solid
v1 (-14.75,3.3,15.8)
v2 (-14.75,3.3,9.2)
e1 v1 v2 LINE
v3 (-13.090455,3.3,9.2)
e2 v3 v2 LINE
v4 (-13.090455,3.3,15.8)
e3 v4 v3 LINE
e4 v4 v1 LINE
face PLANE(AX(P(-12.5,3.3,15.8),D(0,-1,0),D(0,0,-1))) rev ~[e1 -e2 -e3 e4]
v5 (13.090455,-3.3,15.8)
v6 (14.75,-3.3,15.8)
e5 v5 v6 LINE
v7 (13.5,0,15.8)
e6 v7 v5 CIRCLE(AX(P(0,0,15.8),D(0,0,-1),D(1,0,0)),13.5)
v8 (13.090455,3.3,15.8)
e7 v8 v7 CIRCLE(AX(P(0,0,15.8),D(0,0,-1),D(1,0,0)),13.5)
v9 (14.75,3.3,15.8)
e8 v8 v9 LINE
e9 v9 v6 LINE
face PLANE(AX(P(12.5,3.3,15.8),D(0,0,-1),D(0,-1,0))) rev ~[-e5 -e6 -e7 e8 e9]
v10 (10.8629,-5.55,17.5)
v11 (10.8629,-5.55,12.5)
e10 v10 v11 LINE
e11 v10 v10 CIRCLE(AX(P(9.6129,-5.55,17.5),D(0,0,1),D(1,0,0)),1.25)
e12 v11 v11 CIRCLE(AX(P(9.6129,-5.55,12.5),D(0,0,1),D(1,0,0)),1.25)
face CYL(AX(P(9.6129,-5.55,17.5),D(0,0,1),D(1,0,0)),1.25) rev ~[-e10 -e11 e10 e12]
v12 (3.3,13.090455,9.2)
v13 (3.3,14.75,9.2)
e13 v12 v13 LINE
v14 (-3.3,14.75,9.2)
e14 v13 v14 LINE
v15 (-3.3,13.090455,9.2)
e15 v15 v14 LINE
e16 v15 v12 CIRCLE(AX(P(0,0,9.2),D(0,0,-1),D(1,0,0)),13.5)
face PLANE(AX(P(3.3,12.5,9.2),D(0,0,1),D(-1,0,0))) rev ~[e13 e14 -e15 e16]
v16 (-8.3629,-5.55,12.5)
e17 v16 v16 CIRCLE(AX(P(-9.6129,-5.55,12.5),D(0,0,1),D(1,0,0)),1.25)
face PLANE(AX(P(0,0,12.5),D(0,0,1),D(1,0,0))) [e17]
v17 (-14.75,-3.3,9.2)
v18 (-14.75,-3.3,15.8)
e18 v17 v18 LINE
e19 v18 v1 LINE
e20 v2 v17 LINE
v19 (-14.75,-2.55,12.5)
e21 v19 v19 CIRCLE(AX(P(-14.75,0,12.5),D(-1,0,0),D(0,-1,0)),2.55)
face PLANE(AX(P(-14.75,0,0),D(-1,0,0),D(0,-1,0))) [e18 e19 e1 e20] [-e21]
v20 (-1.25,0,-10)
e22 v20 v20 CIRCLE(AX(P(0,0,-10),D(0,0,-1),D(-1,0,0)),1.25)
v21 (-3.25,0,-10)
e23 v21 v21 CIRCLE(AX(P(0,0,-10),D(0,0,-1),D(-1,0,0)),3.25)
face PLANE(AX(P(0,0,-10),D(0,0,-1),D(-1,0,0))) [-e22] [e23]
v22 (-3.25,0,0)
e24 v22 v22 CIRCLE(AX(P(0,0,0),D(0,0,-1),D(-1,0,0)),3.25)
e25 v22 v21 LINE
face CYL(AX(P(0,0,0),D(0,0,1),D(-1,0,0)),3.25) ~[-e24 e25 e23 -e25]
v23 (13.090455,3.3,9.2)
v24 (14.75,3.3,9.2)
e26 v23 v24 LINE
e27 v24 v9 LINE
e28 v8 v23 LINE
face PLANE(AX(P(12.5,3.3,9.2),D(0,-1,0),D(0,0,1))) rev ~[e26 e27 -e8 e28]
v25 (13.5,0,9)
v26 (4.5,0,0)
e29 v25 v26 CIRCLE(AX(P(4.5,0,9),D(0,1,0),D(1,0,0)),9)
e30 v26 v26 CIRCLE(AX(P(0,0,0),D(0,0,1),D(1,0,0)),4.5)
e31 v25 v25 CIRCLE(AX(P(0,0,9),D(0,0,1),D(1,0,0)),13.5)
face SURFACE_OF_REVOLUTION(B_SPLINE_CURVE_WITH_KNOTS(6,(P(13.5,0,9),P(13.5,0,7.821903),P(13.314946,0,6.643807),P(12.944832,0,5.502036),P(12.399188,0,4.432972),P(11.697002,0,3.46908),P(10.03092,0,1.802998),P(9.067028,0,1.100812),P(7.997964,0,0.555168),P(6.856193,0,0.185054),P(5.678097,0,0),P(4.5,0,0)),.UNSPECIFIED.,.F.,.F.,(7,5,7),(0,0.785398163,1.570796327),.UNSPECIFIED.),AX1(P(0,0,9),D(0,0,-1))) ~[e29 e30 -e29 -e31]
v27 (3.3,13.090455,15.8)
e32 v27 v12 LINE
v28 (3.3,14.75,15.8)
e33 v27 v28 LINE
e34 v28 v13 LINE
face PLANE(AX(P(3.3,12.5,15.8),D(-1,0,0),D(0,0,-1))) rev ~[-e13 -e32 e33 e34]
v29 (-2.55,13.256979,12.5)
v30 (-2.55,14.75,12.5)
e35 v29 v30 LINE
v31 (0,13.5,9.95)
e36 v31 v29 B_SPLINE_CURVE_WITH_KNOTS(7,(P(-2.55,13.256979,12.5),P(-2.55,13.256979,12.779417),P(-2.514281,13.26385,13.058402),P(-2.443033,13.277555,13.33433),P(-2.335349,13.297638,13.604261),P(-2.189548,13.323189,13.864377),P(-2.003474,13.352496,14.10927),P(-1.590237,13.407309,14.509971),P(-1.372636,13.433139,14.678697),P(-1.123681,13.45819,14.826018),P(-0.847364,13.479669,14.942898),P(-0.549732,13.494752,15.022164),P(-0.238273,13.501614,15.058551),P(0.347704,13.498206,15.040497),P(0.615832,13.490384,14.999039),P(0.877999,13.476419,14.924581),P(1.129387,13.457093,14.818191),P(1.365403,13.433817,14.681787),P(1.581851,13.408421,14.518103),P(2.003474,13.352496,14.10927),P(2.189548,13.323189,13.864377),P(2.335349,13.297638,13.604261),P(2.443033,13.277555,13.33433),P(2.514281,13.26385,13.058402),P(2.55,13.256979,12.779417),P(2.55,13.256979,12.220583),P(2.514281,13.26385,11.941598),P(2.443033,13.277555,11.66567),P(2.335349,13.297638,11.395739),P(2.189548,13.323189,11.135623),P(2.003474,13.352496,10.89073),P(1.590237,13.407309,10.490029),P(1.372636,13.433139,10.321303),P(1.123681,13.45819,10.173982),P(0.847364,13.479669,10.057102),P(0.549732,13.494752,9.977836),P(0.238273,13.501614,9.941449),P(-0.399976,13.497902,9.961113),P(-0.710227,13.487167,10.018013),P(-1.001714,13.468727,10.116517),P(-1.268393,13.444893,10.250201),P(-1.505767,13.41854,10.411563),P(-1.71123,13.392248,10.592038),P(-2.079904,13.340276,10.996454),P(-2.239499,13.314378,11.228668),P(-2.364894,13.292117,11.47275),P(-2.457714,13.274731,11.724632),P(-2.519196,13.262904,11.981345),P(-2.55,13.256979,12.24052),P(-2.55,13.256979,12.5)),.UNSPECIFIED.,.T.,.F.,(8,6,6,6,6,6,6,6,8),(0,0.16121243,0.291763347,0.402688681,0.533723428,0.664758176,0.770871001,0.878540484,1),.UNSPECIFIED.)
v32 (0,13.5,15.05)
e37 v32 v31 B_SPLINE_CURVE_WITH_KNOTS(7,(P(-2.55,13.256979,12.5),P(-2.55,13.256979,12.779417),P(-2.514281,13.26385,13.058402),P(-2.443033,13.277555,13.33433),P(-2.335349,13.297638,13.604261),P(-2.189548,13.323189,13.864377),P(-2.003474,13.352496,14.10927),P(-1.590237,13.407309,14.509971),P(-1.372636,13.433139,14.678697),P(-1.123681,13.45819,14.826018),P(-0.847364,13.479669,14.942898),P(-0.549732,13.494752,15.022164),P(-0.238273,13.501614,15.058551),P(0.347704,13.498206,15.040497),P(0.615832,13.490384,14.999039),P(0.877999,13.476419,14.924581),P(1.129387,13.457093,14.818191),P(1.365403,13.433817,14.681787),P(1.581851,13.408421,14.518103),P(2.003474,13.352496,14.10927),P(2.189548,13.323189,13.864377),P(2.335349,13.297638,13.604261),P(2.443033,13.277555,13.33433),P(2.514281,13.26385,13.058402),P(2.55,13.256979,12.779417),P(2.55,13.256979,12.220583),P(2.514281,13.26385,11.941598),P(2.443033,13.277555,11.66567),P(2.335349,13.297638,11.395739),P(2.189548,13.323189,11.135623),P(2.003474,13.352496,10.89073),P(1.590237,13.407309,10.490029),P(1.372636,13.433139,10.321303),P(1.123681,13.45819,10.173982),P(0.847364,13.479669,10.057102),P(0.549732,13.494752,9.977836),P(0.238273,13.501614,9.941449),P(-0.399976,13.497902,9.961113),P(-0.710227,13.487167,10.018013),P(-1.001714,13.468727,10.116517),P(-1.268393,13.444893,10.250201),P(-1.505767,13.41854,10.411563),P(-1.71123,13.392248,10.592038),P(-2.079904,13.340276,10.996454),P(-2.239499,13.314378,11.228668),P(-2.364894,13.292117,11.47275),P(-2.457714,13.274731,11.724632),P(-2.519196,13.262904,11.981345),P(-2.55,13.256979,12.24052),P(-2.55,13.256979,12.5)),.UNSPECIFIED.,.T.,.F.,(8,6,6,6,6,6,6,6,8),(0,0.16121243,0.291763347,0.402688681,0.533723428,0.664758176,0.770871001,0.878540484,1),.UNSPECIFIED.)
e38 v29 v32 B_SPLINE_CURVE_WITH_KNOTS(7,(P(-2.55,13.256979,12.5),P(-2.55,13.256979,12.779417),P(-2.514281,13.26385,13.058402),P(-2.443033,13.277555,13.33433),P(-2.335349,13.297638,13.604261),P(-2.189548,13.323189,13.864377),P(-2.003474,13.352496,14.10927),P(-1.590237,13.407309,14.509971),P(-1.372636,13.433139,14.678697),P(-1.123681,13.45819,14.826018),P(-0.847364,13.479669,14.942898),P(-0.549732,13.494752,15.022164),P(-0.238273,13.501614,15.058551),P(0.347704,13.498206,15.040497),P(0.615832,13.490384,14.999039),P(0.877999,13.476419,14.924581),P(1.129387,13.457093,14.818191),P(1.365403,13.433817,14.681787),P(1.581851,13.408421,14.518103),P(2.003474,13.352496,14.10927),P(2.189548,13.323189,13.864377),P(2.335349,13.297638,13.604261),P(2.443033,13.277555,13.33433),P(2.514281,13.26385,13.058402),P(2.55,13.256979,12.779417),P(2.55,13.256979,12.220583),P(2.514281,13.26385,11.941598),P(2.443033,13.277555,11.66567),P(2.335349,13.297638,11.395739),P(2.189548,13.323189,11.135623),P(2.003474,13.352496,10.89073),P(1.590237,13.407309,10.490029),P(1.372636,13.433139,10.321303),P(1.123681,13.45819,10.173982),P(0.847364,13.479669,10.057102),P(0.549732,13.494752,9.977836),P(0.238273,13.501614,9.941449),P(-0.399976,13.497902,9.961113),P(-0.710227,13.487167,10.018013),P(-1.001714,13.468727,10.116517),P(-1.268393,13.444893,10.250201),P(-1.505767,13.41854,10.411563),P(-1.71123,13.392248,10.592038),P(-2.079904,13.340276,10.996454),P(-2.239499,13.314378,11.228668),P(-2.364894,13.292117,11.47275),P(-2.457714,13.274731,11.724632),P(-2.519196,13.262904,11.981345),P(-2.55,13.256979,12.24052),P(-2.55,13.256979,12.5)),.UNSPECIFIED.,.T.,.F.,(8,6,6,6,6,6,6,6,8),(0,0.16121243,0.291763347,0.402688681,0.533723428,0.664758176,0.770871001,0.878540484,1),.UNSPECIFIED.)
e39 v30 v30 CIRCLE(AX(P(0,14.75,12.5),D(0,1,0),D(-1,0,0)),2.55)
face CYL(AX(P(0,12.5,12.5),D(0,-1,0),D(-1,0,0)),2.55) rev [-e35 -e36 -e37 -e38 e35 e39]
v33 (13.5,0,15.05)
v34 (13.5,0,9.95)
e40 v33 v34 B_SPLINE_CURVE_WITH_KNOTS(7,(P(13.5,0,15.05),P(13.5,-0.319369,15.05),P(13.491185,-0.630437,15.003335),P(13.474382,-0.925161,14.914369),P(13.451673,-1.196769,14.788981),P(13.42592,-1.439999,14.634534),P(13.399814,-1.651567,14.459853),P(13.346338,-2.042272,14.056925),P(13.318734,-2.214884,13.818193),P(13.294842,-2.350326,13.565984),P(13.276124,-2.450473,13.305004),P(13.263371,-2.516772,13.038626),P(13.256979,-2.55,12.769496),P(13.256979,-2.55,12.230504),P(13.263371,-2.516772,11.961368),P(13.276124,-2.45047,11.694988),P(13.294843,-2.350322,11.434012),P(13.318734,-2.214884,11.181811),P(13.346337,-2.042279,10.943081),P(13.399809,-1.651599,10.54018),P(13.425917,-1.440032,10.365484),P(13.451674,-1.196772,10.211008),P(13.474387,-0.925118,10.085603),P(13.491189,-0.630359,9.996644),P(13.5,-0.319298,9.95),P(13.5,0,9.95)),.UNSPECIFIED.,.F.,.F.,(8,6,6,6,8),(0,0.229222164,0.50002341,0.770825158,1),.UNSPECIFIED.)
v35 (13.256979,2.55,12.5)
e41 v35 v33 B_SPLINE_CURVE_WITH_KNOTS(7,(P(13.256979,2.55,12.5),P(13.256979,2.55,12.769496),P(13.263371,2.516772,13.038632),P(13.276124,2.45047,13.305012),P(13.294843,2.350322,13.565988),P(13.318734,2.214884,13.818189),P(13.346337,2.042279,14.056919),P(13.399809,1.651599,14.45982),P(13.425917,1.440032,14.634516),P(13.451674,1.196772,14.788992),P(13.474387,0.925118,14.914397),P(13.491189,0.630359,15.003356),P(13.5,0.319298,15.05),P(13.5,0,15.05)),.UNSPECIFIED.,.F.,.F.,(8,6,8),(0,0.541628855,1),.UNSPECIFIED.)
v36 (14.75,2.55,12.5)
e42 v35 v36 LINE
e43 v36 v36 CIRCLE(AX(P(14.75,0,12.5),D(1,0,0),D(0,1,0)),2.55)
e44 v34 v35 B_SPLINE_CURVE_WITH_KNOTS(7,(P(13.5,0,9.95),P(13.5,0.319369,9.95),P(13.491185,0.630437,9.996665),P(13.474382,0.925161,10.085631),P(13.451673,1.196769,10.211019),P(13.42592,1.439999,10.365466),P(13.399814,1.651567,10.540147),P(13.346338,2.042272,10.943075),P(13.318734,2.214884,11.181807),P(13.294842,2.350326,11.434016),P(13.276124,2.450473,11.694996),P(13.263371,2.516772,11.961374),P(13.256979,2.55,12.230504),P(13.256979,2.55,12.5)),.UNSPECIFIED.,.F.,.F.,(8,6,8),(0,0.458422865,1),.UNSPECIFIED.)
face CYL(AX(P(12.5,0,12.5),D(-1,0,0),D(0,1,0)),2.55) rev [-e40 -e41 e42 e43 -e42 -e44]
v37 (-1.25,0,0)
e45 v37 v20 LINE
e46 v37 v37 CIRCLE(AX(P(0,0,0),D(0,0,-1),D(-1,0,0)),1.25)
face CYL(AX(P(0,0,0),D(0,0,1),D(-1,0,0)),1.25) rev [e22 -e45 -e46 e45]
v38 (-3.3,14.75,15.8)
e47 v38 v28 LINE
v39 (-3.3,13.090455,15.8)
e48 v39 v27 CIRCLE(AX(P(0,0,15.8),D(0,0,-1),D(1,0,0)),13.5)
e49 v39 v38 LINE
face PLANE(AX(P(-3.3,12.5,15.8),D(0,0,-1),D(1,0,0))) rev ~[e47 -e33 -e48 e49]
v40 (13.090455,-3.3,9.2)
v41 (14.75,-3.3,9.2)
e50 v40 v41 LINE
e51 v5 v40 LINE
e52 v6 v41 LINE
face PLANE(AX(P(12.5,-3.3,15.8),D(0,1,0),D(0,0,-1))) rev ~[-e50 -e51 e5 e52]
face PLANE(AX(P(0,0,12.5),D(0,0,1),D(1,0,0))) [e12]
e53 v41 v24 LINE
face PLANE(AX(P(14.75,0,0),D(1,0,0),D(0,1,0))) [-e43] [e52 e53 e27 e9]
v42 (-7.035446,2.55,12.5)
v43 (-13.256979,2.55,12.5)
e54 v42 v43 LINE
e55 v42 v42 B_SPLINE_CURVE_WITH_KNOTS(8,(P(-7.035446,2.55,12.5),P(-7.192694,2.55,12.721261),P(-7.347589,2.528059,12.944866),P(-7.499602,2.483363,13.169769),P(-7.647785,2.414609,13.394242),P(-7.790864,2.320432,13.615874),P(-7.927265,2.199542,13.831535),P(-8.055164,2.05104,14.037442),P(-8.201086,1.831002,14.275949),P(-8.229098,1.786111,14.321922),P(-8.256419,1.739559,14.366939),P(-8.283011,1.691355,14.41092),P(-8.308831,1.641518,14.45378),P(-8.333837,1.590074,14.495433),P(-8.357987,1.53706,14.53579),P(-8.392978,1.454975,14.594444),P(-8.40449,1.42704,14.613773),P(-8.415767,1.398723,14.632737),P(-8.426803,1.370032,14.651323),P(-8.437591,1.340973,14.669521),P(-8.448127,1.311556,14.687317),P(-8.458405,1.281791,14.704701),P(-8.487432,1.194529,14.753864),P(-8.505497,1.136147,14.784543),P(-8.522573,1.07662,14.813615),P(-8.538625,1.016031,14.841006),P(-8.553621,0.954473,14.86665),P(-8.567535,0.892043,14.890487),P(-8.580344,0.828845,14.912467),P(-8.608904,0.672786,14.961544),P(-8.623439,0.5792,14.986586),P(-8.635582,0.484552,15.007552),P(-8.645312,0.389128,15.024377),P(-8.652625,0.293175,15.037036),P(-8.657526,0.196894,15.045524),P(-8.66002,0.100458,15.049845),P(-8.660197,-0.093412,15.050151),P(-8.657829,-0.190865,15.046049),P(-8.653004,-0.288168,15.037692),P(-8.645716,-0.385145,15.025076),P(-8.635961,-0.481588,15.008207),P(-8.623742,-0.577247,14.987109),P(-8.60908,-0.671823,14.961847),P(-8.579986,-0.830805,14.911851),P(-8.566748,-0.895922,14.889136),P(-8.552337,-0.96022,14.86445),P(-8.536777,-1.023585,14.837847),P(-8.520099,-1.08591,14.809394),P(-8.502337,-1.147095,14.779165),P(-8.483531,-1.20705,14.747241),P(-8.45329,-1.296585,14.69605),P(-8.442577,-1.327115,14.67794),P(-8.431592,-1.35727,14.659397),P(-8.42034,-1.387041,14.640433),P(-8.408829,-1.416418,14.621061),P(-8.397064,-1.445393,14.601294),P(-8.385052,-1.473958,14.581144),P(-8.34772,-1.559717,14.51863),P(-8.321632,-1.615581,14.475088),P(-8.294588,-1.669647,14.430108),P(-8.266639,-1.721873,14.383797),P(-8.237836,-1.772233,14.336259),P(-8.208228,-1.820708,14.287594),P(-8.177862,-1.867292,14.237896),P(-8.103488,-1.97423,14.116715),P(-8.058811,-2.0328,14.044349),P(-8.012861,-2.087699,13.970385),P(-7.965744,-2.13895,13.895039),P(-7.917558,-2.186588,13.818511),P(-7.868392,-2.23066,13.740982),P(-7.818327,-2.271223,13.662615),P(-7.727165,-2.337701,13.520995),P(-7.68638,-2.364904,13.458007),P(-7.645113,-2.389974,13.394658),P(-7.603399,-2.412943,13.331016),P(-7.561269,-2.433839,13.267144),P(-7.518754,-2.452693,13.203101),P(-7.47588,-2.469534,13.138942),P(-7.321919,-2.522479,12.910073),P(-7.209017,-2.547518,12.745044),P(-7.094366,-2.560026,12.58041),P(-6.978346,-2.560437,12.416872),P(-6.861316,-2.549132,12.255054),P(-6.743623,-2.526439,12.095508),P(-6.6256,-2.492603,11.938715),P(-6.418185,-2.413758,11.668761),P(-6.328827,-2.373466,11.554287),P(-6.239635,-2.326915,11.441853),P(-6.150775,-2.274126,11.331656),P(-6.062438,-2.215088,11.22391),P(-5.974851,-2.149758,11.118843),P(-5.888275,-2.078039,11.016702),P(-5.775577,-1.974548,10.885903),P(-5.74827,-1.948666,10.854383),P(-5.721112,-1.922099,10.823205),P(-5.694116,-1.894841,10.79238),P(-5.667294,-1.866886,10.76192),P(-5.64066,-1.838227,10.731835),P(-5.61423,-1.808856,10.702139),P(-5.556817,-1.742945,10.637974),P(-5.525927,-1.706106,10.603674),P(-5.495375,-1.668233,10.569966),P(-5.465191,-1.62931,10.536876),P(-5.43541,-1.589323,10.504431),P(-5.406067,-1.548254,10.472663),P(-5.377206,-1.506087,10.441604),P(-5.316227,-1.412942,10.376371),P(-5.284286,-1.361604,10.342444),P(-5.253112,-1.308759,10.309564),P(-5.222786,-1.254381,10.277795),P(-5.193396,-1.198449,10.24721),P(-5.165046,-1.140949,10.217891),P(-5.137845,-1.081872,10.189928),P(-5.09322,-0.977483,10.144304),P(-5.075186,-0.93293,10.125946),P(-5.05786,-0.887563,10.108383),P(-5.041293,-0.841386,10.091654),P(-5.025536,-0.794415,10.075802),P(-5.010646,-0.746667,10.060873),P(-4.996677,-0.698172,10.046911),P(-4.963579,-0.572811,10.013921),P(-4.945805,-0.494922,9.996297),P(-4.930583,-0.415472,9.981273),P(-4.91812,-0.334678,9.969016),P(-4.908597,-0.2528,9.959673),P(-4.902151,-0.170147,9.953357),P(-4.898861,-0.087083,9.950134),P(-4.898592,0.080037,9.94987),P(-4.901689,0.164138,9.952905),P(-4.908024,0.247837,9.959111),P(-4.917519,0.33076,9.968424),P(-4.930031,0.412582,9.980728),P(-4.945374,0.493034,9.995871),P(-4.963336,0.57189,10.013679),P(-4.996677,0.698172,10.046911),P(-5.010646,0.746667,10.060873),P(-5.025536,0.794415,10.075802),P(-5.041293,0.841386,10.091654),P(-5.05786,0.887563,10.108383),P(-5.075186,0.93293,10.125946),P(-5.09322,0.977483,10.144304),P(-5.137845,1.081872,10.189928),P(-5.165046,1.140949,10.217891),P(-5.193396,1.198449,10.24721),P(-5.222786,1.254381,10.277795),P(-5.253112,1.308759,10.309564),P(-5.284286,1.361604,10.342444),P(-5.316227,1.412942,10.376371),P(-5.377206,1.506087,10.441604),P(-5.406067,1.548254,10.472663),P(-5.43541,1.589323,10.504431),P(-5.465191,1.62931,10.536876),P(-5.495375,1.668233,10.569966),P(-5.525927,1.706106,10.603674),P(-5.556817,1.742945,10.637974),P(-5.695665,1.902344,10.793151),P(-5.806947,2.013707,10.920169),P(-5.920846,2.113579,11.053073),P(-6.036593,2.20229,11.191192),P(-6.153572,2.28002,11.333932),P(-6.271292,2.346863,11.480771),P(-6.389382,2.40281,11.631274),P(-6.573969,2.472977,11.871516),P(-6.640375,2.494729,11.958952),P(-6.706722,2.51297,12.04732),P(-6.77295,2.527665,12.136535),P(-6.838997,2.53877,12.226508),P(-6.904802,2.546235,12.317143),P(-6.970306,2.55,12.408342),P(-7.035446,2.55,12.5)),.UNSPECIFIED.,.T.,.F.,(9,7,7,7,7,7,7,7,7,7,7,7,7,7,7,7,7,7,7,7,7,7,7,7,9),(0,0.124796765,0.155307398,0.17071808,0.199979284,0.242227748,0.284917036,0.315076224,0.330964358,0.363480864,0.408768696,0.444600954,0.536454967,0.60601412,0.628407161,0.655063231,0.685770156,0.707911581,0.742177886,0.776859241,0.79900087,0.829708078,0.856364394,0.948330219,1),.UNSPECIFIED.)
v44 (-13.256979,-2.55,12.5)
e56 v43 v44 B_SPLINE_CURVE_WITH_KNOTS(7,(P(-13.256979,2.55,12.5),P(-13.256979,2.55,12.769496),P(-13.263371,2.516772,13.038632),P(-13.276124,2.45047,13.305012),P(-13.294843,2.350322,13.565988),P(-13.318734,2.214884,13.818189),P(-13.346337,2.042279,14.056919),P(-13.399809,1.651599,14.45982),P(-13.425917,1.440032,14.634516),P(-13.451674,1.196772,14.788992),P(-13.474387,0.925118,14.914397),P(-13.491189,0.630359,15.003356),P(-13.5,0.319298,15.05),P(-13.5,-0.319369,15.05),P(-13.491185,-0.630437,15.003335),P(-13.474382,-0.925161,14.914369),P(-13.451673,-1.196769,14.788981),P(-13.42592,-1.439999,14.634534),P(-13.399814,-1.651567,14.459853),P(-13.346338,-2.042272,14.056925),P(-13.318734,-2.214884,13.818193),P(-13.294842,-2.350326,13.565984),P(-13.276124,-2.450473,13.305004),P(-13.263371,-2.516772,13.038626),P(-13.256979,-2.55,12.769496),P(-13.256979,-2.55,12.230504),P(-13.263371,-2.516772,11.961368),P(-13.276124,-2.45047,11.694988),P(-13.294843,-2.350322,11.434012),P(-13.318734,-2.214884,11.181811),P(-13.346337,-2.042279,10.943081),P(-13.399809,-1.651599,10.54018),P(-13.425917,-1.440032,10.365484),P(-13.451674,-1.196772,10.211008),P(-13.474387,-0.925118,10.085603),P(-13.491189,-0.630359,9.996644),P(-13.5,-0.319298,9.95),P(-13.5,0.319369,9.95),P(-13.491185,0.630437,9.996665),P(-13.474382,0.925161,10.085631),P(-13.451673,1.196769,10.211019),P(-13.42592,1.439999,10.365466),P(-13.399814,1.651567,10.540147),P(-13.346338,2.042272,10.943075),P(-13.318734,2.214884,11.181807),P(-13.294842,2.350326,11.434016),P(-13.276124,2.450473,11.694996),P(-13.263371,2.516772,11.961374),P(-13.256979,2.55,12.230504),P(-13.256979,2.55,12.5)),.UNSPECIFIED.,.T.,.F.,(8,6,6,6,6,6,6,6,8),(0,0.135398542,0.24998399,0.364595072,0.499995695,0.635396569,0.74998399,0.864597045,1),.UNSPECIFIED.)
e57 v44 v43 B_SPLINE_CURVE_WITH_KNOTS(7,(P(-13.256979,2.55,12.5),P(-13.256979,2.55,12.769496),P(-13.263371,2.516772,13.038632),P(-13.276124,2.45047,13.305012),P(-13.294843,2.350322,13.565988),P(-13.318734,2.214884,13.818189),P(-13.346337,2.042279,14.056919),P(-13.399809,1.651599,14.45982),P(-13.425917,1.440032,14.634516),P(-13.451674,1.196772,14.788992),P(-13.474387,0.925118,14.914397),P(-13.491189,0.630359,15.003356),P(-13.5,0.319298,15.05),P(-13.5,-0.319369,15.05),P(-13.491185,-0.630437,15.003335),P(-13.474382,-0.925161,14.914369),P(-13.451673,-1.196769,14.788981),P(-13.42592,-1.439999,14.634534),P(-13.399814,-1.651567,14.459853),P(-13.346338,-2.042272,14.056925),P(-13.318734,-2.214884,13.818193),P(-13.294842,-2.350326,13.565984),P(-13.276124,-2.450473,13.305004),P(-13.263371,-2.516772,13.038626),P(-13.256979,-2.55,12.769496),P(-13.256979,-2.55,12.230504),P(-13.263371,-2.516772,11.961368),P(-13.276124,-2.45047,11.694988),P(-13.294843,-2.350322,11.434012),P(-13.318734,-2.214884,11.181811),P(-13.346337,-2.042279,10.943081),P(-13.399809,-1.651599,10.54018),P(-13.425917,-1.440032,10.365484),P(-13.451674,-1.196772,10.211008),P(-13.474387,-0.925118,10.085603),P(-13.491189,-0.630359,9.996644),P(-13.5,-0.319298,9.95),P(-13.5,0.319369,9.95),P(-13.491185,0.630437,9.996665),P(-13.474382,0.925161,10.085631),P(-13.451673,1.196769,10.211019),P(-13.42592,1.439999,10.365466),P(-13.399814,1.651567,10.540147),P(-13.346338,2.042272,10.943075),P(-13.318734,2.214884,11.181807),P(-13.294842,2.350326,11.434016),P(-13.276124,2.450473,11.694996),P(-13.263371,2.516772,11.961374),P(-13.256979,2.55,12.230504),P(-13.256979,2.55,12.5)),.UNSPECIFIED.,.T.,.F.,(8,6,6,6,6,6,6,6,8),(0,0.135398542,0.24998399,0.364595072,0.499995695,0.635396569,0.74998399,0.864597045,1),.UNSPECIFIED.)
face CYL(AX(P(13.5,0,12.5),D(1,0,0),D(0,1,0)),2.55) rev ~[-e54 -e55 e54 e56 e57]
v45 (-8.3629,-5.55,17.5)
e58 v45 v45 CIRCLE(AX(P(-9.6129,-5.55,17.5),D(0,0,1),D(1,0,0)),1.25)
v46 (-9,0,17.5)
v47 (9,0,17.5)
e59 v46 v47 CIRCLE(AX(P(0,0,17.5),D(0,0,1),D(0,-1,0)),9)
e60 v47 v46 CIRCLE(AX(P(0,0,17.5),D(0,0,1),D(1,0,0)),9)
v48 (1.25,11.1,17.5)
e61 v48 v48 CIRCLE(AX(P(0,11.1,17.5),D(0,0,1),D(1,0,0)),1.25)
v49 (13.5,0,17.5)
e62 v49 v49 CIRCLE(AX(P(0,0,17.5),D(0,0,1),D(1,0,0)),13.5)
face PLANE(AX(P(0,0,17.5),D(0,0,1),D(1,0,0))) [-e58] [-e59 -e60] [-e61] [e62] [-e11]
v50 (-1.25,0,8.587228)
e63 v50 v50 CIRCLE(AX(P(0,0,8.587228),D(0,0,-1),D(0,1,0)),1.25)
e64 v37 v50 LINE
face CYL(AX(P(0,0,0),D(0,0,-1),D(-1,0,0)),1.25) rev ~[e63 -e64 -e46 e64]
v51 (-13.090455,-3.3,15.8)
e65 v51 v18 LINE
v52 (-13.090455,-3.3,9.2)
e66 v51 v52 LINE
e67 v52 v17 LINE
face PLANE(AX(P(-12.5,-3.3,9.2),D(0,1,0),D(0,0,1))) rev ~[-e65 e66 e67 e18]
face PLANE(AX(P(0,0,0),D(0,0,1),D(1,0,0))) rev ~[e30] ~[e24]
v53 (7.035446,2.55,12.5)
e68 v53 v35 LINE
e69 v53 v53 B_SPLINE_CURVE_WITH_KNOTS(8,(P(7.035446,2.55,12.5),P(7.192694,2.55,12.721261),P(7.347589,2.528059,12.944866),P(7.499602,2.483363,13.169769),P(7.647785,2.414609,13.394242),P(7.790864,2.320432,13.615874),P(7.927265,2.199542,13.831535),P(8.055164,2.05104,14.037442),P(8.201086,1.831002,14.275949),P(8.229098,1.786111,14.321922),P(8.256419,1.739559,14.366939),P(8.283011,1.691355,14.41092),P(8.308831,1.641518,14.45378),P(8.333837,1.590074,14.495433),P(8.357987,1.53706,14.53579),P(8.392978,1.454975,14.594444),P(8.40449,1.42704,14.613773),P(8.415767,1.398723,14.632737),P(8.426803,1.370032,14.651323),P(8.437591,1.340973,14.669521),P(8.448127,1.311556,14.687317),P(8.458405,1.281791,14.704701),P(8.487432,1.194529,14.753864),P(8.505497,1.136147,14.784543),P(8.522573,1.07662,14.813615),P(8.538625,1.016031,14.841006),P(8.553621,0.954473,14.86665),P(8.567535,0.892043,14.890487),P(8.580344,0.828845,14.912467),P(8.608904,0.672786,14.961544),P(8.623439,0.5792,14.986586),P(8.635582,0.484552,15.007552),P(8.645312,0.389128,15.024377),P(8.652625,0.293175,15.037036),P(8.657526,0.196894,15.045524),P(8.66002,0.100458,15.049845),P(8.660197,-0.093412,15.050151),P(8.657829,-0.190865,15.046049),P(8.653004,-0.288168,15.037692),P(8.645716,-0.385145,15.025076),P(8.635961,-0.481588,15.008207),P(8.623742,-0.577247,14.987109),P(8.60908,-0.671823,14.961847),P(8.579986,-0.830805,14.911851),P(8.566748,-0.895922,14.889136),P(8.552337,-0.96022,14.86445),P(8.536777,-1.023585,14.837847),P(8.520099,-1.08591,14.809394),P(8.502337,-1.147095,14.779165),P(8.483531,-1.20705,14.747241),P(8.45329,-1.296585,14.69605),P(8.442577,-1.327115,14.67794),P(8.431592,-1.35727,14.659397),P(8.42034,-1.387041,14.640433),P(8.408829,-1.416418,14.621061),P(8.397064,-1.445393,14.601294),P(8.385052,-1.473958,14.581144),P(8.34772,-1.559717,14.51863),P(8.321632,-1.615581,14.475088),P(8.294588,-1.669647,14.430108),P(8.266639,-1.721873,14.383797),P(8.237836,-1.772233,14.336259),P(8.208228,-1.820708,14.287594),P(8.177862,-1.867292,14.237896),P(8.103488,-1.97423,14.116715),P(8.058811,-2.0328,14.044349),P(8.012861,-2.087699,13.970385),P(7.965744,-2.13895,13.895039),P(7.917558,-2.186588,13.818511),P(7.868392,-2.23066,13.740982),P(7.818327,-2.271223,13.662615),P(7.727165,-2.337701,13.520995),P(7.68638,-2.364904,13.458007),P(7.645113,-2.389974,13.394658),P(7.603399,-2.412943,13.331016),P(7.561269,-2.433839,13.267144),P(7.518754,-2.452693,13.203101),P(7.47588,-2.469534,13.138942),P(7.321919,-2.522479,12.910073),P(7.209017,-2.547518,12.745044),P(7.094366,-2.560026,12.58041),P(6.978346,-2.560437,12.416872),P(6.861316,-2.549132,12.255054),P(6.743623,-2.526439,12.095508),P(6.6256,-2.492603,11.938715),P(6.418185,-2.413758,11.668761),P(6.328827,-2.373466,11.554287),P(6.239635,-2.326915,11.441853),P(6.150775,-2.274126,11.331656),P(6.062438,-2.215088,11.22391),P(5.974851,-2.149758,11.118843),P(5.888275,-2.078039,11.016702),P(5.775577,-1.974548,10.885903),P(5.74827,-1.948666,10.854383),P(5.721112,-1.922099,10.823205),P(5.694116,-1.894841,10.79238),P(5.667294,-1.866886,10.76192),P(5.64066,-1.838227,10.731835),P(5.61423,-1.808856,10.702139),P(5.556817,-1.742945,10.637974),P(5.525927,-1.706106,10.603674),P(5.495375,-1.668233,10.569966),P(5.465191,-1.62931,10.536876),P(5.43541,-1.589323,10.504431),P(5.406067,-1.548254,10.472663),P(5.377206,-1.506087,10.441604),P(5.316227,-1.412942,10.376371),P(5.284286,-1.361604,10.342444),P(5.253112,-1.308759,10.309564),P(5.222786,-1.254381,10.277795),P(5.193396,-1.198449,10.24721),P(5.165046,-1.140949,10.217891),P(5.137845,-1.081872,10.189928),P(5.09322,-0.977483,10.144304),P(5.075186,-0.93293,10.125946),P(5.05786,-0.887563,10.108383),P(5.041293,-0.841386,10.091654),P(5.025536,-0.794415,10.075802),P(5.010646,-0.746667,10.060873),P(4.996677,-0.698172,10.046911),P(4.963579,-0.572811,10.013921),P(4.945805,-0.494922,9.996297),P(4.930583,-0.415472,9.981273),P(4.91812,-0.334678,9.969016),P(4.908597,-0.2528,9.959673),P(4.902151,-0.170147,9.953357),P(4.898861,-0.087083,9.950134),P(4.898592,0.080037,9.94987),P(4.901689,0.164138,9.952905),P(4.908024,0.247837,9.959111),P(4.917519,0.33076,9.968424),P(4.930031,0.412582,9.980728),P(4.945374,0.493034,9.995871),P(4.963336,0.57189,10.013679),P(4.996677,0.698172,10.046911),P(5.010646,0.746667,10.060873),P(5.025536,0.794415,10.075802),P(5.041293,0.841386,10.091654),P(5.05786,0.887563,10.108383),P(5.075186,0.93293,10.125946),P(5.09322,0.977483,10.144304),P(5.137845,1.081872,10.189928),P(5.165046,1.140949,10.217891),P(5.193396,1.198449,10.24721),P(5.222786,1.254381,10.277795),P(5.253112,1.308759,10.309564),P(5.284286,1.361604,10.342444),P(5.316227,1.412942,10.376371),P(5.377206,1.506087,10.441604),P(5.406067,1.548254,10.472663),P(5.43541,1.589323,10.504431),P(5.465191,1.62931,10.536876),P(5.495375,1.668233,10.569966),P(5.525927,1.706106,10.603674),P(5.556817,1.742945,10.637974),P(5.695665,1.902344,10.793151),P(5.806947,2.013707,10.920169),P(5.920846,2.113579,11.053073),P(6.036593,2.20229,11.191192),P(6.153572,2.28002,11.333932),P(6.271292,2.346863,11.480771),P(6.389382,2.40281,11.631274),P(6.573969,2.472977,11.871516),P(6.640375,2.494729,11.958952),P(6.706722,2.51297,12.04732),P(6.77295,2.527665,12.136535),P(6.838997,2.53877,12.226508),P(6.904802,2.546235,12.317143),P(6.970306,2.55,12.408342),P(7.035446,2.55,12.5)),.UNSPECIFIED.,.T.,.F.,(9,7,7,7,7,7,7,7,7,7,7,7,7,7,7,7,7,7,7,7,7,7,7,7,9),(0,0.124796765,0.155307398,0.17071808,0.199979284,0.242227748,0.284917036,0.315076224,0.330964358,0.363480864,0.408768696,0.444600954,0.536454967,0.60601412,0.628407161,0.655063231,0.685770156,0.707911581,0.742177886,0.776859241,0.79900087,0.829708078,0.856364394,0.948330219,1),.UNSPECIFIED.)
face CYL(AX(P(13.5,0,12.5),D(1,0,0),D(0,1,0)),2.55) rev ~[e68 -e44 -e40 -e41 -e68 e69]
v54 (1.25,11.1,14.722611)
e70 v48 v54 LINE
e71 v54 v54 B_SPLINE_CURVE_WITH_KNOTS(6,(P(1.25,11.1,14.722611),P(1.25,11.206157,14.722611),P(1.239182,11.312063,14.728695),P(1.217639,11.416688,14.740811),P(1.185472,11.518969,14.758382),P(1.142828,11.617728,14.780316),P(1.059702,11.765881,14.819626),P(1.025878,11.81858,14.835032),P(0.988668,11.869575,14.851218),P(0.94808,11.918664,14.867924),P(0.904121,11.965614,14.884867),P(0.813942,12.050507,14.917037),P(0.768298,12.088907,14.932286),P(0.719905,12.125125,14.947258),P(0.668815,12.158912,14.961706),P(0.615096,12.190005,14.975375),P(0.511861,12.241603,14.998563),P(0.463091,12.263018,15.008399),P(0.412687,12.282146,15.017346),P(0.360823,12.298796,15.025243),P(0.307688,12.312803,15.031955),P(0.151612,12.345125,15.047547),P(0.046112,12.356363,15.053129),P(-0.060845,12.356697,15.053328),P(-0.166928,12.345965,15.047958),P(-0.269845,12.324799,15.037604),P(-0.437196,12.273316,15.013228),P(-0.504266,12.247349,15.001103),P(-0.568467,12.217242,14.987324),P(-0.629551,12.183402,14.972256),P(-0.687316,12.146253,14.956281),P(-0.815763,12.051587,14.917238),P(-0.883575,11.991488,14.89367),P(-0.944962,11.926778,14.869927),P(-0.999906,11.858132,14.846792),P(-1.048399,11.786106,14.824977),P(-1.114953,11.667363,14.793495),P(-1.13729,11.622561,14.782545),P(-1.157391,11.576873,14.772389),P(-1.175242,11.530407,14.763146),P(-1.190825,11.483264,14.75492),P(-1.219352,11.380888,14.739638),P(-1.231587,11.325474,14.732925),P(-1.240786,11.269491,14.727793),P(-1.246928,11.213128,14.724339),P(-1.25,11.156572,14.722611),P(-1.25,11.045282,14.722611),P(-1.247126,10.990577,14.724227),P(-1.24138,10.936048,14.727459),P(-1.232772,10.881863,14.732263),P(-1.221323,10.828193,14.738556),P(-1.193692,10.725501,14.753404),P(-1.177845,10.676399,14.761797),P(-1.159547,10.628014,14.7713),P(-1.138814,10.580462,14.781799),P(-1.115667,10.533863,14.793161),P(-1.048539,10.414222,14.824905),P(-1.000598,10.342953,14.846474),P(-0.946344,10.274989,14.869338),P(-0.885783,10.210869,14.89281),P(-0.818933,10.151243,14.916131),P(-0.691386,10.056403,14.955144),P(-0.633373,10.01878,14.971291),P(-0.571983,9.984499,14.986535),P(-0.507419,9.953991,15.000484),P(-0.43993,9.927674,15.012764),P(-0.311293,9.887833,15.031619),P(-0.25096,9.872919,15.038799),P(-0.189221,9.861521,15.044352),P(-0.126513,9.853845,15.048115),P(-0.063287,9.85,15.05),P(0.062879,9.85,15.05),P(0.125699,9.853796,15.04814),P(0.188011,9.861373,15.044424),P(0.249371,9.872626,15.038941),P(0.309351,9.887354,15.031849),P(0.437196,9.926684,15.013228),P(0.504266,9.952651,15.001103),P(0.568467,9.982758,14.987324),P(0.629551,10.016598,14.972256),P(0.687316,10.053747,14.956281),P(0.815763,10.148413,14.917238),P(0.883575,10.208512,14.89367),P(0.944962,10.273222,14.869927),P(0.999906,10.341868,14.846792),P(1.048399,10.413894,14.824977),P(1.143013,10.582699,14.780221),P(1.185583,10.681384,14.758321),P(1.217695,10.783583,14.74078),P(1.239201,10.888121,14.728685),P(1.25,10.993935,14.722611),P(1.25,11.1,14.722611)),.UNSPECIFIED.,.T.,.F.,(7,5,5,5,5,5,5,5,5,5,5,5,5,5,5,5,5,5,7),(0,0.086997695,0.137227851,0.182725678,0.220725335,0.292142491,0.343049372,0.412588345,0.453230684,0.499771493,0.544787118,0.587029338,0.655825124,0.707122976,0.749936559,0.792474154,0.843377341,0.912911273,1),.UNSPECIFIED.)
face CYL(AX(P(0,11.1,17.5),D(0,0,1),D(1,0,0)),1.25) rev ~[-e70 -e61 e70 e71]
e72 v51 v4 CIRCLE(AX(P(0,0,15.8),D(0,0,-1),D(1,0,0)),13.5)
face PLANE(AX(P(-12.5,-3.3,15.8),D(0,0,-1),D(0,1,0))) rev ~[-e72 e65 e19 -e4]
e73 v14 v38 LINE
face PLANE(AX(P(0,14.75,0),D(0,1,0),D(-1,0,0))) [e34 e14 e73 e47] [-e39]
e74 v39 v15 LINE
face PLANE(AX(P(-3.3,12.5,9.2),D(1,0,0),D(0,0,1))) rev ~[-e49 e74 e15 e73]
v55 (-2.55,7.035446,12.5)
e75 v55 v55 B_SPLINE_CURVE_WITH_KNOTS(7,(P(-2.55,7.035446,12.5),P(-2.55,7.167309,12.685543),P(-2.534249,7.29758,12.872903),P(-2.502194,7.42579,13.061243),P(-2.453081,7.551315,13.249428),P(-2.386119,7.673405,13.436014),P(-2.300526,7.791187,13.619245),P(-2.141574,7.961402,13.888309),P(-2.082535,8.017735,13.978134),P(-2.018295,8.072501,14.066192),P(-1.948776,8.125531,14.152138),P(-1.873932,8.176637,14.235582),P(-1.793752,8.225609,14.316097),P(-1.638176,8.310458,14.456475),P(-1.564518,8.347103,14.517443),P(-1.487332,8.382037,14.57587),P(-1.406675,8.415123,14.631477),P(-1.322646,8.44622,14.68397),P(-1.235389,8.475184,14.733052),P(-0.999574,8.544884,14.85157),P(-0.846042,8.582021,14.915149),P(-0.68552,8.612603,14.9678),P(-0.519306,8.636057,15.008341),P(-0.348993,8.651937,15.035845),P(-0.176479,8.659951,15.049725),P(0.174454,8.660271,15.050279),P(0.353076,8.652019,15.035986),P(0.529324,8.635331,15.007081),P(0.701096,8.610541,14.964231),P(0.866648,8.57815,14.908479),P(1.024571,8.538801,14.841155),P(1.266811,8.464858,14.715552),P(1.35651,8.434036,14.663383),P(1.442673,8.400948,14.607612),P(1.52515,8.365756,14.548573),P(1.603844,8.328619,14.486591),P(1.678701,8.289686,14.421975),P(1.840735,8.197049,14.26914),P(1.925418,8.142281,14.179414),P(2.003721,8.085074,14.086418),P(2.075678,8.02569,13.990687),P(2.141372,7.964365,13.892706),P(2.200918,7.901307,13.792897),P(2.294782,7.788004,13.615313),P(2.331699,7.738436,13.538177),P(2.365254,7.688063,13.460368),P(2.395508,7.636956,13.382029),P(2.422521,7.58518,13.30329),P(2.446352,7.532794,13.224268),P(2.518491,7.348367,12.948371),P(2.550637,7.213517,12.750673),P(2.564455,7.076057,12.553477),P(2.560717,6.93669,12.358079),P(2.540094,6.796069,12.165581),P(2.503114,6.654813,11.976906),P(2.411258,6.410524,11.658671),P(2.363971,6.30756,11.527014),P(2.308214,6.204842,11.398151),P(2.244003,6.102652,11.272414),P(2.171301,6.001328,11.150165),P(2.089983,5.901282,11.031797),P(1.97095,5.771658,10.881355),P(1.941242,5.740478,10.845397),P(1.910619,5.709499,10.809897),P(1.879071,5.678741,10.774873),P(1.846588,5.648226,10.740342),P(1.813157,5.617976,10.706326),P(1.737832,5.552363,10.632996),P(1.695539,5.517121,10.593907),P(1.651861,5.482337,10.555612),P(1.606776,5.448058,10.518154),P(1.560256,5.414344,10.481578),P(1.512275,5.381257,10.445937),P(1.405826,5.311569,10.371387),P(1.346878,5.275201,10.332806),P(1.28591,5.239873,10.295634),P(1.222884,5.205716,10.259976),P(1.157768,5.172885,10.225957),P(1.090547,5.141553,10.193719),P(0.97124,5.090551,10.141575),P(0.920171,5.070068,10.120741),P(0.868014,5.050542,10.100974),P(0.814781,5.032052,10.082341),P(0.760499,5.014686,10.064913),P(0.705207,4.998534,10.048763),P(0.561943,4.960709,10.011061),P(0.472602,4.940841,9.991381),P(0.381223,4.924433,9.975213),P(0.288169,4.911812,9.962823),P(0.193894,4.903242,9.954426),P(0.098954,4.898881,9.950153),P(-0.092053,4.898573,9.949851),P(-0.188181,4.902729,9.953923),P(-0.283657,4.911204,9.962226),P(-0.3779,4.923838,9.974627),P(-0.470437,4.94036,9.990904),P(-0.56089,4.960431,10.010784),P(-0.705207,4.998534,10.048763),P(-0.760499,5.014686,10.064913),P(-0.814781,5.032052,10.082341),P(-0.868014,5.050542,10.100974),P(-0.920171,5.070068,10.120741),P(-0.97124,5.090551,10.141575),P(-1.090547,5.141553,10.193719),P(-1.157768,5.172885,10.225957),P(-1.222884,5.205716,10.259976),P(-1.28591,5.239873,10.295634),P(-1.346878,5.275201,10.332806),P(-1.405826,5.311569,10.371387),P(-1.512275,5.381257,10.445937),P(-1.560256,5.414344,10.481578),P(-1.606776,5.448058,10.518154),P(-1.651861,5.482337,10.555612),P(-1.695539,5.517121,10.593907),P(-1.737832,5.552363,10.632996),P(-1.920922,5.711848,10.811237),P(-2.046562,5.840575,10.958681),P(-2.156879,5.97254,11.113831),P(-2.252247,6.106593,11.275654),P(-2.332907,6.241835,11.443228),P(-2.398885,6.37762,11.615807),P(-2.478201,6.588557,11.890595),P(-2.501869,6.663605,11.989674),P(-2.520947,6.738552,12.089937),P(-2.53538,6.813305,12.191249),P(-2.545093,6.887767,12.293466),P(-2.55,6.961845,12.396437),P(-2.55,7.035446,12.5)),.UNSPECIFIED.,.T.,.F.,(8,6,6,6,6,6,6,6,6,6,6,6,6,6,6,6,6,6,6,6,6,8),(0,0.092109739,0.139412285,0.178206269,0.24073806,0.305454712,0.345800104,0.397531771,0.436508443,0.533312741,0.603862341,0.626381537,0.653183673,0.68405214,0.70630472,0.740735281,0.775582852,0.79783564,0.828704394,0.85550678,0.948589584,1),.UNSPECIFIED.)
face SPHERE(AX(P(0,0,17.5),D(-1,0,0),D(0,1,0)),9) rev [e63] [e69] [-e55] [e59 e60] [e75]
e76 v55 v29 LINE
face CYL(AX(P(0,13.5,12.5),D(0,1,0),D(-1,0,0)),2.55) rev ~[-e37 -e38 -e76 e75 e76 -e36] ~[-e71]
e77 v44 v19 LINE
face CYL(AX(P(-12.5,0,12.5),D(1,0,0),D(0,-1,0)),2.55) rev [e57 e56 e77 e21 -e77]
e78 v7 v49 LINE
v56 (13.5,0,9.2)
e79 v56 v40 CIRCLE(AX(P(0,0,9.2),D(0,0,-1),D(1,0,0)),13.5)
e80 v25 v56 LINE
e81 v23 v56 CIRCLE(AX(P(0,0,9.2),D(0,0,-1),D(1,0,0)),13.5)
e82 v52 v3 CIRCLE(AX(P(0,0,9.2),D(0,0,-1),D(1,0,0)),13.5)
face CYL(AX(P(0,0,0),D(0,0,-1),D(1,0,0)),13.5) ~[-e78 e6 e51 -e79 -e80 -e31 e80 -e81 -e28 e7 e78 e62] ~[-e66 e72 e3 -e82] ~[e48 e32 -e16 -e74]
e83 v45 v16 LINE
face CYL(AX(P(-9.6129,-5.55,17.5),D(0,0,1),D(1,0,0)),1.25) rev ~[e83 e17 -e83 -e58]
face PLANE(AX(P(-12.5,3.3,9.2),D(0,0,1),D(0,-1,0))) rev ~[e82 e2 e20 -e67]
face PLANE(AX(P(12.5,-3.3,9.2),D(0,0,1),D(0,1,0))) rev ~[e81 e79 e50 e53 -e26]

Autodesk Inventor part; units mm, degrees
sketch "Sketch2" plane through (0, 0, 0) normal (0, 0, 1) x (1, 0, 0)
  circle A0 centre (0, 0) radius 13.5
  dimension "d0" = 27
extrude "Base" add sketch "Sketch2" along normal blind 17.5
ref_plane "Work Plane1" through (13.5, 0, 0) normal (1, 0, 0) x (0, 1, 0)
sketch "Sketch3" plane through (13.5, 0, 0) normal (1, 0, 0) x (0, 1, 0)
  line L0 (13.5, 17.5) -> (-13.5, 17.5) projected
  line L1 (13.5, 0) -> (-13.5, 0) projected
  circle A0 centre (0, 12.5) radius 2.55
  point P0 (0, 0)
  dimension "d4" = 5.1
  dimension "d31" = 5
extrude "IR hole" cut sketch "Sketch3" against normal through all
ref_plane "Work Plane2" through (0, 13.5, 0) normal (0, 1, 0) x (-1, 0, 0)
sketch "Sketch4" plane through (0, 13.5, 0) normal (0, 1, 0) x (-1, 0, 0)
  line L0 (13.5, 17.5) -> (-13.5, 17.5) construction
  line L1 (13.5, 0) -> (-13.5, 0) construction
  circle A0 centre (0, 12.5) radius 2.55
  point P0 (0, 0)
  dimension "d7" = 5.1
  dimension "d32" = 5
extrude "LED Hole" cut sketch "Sketch4" against normal blind 13.5
sketch "Sketch7" plane through (0, 0, 0) normal (0, 0, -1) x (-1, 0, 0)
  circle A0 centre (0, 0) radius 1.25
  circle A1 centre (0, 0) radius 3.25
  dimension "d24" = 2.5
  dimension "d39" = 2
extrude "Water Tube wall" add sketch "Sketch7" along normal blind 10
fillet "Fillet1" radius 9 1 edges at (-13.5, 0, 0)
ref_plane "Work Plane3" through (0, 0, 0) normal (0, 0, 1) x (1, 0, 0)
sketch "Sketch13" plane through (0, 0, 17.5) normal (0, 0, 1) x (1, 0, 0)
  circle A0 centre (0, 0) radius 1.25 projected
  circle A1 centre (0, 0) radius 9
  circle A2 centre (0, 0) radius 13.5 projected
  line L0 (-9, 0) -> (9, 0)
  point P0 (-1.25, 0)
  point P1 (1.25, 0)
  dimension "d40" = 4.5
  dimension "d66" = 18
revolve "Inner cut out" cut sketch "Sketch13" angle 360 about axis through (-9, 0, 17.5) along (1, 0, 0) picked at (-6.3174, 0.8177) contours A0 L0 A1
sketch "Sketch14" plane through (0, 0, 17.5) normal (0, 0, 1) x (1, 0, 0)
  circle A0 centre (0, 11.1) radius 1.25
  line L0 (-18.9, 13.5) -> (18.9, 13.5) construction
  circle A1 centre (0, 0) radius 13.5 construction
  line L1 (0, 13.5) -> (0, 9) construction
  circle A2 centre (0, 0) radius 9 construction
  circle A3 centre (-9.6129, -5.55) radius 1.25
  circle A4 centre (9.6129, -5.55) radius 1.25
  circle A5 centre (0, 0) radius 11.1 construction
  dimension "d67" = 22.2
  dimension "d42" = 2.5
  dimension "d43" = 2.4
  dimension "d44" = 4.5
  dimension "d47" = 360
extrude "Mount screw holes" cut sketch "Sketch14" against normal blind 5
ref_plane "Work Plane4" through (12.5, 0, 0) normal (1, 0, 0) x (0, 1, 0)
sketch "Sketch15" plane through (12.5, 0, 0) normal (1, 0, 0) x (0, 1, 0)
  circle A0 centre (0, 12.5) radius 2.55
  line L0 (13.5, 17.5) -> (-13.5, 17.5) projected
  line L1 (-3.3, 9.2) -> (3.3, 9.2)
  line L2 (3.3, 9.2) -> (3.3, 15.8)
  line L3 (3.3, 15.8) -> (-3.3, 15.8)
  line L4 (-3.3, 15.8) -> (-3.3, 9.2)
  line L5 (-3.3, 9.2) -> (3.3, 15.8) construction
  line L6 (3.3, 9.2) -> (-3.3, 15.8) construction
  point P0 (0, 0)
  dimension "d52" = 5
  dimension "d53" = 5.1
  dimension "d54" = 6.6
  dimension "d55" = 6.6
extrude "Hole wall" add sketch "Sketch15" along normal blind 2.25
pattern_circular "Circular Pattern1" count 3 over 180 about axis through (0, 0, 0) along (0, 0, 1) of "Hole wall"
sketch "Sketch17" plane through (0, 0, 0) normal (0, 0, -1) x (-1, 0, 0)
  circle A0 centre (0, 0) radius 1.25 projected
  circle A1 centre (0, 0) radius 1.1
  dimension "d68" = 2.5
extrude "Extrusion12" cut sketch "Sketch17" against normal blind 20 contours A0 | A1
equation "\"d8\" = 0.5 * d0"
equation "\"d52\" = d31"
equation "\"d53\" = d4"
equation "\"d55\" = d54"
properties part number "Large_mouse_poke" material "ABS Plastic"
